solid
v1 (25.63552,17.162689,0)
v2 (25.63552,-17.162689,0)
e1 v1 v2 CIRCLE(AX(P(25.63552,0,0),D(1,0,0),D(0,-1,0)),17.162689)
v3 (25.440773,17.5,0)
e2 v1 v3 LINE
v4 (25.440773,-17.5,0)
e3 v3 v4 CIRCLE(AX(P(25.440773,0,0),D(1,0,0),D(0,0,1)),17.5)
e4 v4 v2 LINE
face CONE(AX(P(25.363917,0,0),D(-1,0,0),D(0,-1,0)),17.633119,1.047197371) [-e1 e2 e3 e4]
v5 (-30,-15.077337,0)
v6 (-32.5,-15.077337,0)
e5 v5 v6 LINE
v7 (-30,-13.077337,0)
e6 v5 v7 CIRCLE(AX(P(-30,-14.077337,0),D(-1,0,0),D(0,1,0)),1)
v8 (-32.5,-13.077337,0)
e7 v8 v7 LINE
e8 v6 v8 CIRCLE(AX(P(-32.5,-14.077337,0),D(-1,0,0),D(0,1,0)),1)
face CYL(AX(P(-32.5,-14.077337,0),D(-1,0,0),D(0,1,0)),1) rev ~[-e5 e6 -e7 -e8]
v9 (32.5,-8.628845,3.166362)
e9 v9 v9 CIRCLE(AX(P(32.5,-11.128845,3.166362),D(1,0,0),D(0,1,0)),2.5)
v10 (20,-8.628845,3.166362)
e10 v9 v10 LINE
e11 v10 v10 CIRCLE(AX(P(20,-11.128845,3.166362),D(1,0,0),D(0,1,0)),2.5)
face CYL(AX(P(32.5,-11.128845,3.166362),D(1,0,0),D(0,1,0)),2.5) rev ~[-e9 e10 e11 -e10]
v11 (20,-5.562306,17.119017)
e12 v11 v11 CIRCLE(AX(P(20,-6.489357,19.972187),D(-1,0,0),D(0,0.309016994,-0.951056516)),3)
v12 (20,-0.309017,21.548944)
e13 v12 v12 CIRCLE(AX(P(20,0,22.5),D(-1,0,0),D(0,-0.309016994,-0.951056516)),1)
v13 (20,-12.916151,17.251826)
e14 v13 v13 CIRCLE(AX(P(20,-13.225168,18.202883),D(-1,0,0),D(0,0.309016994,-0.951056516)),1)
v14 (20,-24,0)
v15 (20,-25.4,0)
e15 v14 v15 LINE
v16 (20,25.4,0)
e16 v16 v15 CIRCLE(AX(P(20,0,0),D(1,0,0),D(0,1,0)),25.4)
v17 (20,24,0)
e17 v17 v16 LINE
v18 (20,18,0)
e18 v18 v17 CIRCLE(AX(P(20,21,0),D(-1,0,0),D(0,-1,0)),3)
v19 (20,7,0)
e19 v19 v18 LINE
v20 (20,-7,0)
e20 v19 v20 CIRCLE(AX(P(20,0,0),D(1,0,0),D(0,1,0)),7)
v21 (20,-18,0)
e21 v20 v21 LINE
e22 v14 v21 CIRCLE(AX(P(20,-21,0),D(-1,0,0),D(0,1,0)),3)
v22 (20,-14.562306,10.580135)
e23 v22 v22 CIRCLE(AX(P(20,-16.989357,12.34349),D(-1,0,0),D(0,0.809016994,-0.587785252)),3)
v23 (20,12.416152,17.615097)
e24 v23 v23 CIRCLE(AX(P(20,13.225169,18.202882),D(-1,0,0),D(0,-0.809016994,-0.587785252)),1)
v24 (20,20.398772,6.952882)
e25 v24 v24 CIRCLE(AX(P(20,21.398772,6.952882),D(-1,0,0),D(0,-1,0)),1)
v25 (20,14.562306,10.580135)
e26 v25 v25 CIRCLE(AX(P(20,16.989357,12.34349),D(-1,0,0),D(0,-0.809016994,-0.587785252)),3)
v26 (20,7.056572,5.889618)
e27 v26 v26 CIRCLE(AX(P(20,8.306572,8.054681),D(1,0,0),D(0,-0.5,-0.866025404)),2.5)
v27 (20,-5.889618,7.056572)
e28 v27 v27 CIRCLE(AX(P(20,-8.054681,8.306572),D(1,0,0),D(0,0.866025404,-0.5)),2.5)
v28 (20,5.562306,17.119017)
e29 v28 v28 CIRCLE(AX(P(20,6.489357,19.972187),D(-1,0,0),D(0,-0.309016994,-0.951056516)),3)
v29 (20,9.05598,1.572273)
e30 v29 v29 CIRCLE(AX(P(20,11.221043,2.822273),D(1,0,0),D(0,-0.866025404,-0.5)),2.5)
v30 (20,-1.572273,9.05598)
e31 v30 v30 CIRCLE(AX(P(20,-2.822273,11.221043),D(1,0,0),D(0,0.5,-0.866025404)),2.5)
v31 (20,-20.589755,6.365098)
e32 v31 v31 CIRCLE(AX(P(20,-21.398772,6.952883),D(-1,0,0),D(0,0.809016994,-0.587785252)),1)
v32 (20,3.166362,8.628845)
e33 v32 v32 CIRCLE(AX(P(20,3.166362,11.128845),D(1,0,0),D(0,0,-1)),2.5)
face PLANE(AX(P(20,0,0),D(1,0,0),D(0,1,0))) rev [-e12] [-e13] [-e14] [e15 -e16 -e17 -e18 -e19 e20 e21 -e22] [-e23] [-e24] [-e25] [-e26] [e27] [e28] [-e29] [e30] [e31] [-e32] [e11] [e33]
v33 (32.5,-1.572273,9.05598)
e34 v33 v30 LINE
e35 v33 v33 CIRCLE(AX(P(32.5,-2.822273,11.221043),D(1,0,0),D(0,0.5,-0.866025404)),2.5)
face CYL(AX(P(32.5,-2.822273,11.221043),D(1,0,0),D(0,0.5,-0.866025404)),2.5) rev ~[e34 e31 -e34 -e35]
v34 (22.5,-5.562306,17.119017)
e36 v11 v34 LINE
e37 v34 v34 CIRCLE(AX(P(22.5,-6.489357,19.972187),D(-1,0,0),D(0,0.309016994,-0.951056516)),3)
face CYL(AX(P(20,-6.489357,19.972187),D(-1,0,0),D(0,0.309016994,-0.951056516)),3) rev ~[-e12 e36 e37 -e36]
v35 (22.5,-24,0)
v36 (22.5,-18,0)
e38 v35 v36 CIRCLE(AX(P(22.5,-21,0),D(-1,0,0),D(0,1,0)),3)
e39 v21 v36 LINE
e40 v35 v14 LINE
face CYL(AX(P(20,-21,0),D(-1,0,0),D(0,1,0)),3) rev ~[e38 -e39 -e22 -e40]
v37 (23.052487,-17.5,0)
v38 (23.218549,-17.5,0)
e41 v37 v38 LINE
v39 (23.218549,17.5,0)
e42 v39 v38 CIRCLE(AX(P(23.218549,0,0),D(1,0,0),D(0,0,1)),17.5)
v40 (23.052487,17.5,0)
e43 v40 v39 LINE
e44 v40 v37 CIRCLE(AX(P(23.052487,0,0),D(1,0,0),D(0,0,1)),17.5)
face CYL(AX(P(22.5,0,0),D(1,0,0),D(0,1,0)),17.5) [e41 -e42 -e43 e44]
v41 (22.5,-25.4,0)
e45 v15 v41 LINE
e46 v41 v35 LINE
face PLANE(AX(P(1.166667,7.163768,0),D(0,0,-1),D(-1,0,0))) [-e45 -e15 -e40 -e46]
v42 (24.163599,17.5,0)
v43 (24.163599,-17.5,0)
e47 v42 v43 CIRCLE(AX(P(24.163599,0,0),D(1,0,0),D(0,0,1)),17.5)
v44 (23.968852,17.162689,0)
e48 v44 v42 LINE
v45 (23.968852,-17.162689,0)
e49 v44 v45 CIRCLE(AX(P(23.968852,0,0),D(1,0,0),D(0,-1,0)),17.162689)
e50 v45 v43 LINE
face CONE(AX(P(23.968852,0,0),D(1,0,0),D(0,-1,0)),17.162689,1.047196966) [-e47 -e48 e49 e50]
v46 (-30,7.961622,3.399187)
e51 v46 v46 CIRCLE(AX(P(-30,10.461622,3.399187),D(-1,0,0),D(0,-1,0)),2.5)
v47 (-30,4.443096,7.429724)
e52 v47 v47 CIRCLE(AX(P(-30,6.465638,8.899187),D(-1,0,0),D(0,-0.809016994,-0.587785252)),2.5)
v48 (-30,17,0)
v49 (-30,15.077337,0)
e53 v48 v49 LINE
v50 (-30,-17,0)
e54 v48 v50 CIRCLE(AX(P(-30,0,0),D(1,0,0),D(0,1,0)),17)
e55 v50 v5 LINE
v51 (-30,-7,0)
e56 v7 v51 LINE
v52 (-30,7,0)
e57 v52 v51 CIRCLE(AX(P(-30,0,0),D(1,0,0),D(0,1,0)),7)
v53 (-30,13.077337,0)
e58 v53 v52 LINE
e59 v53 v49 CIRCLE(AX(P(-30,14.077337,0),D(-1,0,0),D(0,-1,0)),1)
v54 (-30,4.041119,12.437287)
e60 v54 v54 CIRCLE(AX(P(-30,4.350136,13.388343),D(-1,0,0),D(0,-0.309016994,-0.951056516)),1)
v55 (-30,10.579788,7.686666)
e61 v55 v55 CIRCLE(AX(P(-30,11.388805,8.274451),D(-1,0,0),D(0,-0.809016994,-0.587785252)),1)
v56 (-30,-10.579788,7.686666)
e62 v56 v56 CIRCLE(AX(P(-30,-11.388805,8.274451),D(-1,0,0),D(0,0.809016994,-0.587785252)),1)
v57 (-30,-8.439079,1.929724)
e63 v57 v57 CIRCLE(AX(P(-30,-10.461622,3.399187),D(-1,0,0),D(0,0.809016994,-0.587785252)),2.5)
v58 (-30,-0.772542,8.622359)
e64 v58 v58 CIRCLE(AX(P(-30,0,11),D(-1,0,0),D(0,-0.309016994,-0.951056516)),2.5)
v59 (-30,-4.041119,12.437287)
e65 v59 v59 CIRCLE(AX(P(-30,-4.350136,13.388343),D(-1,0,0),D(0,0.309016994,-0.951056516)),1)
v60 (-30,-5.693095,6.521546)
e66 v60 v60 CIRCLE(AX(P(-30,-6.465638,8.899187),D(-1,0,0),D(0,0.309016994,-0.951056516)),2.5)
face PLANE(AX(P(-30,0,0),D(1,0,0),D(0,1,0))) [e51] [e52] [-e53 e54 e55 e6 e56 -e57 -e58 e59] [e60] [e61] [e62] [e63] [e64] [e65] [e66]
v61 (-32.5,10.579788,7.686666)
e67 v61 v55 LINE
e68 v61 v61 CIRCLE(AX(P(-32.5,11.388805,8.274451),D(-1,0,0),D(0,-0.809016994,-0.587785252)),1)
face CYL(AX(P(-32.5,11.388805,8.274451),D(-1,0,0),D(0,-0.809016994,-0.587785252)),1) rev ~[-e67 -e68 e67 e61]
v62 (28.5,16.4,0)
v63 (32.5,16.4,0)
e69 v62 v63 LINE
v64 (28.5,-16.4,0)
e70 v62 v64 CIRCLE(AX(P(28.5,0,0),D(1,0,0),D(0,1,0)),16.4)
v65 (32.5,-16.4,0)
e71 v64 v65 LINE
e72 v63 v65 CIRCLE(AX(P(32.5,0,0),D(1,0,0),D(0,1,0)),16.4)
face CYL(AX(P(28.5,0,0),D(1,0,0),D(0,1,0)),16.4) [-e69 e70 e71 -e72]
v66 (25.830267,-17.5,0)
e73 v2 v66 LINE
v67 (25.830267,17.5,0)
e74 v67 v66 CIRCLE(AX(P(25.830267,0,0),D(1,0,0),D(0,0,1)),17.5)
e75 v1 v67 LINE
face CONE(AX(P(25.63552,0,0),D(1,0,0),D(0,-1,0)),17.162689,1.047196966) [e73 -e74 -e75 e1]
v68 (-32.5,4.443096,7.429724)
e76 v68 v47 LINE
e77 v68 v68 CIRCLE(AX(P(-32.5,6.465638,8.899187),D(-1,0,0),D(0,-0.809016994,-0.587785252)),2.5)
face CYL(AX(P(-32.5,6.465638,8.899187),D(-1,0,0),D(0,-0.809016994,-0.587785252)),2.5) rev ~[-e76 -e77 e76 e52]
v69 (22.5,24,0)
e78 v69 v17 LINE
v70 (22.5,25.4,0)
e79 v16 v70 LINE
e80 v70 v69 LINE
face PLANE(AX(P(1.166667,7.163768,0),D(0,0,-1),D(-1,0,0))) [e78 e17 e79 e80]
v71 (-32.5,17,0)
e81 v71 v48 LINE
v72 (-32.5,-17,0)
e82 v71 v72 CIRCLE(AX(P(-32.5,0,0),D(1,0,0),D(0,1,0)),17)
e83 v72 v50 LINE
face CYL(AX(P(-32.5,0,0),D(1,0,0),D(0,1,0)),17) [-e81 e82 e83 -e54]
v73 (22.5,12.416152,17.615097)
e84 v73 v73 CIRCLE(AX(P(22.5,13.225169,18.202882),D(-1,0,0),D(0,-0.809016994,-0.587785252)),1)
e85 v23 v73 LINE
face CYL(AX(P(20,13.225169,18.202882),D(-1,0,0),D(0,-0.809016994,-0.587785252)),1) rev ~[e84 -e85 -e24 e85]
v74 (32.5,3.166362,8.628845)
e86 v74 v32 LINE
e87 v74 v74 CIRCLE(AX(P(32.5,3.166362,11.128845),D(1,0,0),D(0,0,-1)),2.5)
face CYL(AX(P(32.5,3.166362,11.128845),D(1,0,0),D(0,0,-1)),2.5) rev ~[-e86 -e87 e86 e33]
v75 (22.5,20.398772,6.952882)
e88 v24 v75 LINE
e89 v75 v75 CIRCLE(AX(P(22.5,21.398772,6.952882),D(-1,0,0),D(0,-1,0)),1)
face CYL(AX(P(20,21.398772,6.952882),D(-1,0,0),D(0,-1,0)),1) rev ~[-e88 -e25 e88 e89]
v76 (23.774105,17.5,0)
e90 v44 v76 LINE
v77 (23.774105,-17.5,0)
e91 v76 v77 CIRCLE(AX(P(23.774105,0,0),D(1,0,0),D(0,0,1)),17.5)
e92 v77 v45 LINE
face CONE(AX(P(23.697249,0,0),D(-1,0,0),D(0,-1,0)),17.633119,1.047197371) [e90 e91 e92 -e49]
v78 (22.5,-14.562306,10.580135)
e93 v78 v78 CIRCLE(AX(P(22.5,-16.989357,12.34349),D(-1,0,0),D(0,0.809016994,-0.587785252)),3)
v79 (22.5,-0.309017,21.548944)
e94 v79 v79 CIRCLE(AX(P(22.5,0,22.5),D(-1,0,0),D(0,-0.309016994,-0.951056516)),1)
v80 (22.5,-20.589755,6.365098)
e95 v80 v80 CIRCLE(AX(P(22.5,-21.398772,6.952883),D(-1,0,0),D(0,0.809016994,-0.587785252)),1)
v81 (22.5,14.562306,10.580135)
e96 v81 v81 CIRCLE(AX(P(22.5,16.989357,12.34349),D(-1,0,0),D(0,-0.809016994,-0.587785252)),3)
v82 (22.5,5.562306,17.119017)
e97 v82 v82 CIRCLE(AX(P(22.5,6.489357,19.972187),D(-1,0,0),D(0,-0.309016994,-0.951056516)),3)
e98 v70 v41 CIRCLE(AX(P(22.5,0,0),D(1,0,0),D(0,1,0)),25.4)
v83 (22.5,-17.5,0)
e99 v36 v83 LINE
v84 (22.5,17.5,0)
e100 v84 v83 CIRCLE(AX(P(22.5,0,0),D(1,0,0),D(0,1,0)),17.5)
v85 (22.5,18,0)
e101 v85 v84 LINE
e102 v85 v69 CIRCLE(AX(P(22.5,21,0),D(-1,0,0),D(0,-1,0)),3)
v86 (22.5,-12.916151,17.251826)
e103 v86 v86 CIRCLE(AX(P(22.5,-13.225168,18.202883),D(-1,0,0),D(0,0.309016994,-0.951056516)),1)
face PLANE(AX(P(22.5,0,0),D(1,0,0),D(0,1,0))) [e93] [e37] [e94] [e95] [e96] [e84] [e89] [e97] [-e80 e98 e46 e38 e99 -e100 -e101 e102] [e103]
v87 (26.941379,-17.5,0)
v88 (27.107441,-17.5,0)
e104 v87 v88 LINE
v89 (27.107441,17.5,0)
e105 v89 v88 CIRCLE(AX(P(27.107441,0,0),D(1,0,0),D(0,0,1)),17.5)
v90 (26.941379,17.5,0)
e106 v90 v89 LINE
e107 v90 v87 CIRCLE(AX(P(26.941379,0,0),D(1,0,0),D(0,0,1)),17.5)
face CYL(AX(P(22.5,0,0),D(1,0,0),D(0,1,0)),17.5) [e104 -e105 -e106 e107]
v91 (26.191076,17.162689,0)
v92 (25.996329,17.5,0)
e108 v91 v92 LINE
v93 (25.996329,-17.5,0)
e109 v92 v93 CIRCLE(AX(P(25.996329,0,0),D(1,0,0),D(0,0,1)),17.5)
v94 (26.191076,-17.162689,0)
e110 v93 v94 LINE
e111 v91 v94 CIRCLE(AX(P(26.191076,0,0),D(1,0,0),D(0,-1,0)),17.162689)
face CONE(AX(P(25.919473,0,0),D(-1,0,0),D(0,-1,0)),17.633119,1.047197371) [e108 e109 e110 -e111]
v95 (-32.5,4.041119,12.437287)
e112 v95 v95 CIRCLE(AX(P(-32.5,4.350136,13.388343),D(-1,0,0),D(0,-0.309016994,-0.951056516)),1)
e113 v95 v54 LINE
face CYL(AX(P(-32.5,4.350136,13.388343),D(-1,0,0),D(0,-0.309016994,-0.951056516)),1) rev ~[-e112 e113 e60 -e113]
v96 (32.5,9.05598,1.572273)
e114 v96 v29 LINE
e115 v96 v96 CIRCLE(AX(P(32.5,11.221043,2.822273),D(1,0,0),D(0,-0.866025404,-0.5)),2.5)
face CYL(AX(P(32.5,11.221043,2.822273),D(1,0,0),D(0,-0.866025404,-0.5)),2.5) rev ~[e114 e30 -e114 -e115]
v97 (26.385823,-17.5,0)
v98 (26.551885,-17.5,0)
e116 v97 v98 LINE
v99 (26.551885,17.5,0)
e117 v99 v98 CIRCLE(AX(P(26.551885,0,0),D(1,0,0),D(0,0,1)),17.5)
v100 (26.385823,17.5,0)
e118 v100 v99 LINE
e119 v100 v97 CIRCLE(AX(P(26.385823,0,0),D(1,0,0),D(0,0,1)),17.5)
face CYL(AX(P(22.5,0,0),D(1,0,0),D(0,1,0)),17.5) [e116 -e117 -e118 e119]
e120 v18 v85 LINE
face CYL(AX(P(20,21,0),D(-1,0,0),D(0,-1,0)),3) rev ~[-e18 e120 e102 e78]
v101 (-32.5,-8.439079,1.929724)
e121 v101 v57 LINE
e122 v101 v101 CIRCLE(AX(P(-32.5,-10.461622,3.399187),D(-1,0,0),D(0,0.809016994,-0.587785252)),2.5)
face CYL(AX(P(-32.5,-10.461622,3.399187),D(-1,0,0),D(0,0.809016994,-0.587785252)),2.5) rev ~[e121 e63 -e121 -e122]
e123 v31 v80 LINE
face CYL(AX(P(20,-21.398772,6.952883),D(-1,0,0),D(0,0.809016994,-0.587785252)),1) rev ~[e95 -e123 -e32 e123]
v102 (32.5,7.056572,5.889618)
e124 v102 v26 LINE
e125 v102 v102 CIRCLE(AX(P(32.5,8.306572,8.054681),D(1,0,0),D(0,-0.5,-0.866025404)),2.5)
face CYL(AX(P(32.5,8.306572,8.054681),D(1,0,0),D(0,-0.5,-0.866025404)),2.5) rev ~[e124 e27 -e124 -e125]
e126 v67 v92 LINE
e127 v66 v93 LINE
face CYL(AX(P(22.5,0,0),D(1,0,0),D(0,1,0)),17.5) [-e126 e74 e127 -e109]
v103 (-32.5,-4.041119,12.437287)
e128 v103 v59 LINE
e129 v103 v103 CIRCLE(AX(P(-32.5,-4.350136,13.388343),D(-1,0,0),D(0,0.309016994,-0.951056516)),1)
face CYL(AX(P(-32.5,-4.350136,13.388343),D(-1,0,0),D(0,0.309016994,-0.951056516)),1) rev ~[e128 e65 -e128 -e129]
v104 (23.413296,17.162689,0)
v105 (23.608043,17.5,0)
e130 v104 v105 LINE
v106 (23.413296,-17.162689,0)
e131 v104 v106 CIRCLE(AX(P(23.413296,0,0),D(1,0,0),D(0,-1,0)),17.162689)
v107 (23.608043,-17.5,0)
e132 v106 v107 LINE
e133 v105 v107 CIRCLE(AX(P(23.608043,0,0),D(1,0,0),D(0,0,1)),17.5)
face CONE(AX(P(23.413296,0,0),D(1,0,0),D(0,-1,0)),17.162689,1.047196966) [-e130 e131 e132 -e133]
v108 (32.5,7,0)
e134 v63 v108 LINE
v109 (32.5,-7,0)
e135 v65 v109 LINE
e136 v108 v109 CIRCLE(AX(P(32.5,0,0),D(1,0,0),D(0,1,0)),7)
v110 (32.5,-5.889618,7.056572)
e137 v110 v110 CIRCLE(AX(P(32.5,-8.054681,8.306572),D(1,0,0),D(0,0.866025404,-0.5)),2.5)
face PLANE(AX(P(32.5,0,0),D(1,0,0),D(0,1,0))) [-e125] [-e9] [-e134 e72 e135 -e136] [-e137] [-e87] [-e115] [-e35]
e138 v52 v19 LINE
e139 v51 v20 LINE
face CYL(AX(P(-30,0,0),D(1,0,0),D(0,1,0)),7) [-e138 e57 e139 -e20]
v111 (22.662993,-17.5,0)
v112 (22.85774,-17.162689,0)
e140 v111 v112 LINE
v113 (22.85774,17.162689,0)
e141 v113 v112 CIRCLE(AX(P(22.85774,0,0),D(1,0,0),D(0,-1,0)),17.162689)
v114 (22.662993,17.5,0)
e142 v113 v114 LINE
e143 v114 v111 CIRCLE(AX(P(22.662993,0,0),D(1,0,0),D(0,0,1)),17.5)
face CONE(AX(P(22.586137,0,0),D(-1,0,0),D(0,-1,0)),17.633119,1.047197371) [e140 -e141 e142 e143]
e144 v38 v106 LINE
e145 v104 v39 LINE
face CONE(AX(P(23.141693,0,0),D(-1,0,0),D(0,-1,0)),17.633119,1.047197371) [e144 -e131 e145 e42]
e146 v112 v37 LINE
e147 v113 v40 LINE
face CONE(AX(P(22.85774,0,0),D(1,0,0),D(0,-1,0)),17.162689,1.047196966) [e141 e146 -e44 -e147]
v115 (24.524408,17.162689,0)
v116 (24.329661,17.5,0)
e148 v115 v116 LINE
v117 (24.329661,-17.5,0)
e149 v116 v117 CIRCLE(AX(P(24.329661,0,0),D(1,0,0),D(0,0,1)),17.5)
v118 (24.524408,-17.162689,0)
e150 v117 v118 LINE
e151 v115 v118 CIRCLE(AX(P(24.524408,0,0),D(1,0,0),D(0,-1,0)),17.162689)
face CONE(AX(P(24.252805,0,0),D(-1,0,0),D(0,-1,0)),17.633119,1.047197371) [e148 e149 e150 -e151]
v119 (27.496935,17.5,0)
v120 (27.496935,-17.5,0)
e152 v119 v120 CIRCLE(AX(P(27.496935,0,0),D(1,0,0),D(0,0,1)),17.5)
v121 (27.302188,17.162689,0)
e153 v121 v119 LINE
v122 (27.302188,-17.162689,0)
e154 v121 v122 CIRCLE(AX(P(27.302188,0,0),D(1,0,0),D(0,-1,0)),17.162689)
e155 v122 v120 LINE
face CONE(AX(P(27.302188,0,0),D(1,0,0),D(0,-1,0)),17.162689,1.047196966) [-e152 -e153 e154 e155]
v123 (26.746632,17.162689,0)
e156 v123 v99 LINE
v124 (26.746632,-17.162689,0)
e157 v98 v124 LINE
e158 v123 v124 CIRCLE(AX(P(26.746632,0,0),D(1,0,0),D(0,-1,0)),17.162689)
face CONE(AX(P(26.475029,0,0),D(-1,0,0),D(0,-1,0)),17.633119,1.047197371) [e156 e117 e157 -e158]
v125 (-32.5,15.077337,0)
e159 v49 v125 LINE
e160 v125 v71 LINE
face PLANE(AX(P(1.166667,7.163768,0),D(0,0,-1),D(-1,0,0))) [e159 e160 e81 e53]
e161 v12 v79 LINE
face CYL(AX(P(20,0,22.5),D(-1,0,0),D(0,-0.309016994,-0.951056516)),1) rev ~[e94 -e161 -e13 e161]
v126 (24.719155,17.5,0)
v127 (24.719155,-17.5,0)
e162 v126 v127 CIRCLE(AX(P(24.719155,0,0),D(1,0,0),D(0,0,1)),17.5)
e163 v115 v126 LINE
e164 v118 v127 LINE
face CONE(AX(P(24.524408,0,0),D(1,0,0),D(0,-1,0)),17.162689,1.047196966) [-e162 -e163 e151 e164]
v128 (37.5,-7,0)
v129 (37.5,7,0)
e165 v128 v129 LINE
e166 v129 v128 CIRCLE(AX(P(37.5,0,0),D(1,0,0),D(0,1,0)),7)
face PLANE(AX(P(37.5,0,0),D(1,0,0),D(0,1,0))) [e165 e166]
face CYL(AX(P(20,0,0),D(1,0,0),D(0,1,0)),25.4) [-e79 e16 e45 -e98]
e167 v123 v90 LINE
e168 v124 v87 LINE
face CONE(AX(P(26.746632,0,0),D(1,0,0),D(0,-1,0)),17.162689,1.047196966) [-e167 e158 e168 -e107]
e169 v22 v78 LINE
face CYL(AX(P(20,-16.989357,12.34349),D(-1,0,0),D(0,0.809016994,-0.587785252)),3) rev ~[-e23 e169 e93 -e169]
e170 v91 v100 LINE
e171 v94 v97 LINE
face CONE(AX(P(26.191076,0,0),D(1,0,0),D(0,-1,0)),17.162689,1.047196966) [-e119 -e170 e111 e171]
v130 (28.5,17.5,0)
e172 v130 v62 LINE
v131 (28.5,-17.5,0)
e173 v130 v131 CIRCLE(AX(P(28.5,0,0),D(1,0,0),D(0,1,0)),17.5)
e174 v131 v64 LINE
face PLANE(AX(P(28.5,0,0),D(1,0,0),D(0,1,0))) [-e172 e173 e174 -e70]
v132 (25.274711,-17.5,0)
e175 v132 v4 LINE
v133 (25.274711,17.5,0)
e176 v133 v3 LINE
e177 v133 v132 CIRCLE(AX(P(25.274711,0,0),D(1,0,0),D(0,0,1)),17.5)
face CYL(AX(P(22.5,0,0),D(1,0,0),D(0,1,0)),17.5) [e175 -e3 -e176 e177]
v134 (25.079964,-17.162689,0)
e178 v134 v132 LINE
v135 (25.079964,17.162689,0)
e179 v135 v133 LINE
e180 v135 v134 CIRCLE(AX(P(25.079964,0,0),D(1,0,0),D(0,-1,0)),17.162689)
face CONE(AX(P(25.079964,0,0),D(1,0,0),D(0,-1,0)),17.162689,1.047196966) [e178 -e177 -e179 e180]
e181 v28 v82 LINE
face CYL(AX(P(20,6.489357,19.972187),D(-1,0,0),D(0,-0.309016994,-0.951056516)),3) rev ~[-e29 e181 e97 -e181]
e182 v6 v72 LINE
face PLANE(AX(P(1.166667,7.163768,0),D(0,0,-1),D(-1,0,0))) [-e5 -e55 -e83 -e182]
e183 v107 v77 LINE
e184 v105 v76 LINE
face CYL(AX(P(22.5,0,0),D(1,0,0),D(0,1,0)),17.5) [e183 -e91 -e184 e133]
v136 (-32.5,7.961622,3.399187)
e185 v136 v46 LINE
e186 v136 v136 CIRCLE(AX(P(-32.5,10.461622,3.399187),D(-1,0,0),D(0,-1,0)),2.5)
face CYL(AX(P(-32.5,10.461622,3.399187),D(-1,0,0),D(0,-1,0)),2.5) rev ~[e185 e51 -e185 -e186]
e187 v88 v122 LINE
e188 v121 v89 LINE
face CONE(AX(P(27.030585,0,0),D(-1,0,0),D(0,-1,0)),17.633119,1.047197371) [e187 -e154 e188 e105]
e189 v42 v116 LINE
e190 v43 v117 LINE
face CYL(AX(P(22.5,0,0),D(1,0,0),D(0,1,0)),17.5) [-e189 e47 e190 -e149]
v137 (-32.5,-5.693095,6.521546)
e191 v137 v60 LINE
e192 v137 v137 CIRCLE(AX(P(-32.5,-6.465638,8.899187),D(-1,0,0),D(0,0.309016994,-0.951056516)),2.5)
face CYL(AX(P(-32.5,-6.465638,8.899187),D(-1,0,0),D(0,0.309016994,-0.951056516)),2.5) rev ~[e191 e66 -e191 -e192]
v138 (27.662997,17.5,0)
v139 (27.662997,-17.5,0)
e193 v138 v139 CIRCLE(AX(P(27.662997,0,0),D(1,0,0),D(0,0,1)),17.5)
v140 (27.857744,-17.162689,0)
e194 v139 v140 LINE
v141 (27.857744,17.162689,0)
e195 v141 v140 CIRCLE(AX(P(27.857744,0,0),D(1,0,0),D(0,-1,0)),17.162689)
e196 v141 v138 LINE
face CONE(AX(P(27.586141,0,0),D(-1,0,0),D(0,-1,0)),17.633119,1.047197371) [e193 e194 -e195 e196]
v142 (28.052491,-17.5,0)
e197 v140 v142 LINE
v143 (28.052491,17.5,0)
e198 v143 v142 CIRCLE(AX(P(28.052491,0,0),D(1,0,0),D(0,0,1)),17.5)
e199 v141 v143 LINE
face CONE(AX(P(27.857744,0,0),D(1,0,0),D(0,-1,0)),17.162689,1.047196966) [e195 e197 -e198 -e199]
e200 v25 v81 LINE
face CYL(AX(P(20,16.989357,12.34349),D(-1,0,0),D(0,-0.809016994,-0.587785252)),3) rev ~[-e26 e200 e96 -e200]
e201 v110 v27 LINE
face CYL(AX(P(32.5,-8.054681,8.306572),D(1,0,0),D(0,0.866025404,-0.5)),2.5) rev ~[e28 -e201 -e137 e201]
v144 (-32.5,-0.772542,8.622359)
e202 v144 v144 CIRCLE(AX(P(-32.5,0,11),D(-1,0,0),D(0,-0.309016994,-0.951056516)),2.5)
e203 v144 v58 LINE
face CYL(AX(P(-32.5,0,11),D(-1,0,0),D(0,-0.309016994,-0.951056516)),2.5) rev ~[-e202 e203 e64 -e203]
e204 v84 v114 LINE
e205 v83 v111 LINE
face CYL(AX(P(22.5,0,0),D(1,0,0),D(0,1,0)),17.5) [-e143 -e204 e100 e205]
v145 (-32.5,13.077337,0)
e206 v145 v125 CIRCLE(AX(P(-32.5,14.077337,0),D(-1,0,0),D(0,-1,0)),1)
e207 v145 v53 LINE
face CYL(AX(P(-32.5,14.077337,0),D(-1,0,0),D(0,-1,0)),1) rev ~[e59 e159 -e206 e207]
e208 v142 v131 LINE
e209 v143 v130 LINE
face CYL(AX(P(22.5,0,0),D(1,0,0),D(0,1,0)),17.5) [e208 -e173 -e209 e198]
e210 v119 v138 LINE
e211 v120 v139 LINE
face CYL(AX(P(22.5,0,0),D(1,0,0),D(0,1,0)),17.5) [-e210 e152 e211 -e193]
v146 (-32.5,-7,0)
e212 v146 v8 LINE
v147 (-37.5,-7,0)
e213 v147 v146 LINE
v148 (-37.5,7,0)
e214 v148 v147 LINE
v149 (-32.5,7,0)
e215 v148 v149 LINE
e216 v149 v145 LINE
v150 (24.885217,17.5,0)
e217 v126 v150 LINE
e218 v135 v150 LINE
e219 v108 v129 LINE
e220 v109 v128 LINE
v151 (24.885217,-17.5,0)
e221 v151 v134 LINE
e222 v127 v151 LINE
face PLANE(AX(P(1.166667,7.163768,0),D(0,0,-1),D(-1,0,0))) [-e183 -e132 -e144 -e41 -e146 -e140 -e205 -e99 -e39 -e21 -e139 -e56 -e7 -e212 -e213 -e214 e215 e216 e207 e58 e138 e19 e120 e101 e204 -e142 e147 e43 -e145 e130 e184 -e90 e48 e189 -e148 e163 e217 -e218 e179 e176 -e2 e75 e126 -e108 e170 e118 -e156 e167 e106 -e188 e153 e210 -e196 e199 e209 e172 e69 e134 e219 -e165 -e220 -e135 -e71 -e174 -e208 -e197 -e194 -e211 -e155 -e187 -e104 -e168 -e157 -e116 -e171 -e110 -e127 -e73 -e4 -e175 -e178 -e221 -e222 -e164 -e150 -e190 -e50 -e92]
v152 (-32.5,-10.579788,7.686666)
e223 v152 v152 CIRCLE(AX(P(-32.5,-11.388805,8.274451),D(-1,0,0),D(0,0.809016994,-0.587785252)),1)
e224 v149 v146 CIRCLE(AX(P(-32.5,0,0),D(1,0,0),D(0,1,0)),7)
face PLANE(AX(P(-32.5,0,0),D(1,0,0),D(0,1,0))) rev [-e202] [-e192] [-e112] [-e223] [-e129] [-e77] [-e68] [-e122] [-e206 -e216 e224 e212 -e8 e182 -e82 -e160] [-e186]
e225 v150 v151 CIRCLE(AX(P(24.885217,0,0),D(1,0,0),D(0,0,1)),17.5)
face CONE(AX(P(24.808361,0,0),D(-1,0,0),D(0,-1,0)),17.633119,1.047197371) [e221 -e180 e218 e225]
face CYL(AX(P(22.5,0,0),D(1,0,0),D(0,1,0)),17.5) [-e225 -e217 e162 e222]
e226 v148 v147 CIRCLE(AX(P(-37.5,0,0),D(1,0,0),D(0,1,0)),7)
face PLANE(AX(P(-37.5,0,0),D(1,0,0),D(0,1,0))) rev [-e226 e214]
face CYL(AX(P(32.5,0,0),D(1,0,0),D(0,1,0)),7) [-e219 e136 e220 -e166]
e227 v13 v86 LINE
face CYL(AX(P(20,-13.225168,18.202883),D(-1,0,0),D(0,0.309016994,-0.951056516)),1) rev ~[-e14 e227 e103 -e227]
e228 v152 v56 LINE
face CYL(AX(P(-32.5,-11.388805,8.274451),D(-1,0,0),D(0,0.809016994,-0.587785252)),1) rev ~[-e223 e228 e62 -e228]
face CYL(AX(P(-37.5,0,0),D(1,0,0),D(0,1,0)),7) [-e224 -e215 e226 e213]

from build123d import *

# Parameters (mm, degrees)
REVOLUTION_ANGLE      = 180
SKETCH001_R           = 2.5
POCKET_DEPTH          = 20
POLARPATTERN_COUNT    = 6
POLARPATTERN_ANGLE    = 150
SKETCH002_R           = 1
POCKET001_DEPTH       = 5
POLARPATTERN001_COUNT = 10
SKETCH003_R           = 1
POCKET002_DEPTH       = 5
POLARPATTERN002_COUNT = 10
SKETCH004_R           = 2.5
POCKET003_DEPTH       = 5
POLARPATTERN003_COUNT = 10
SKETCH005_R           = 3
POCKET004_DEPTH       = 5
POLARPATTERN004_COUNT = 10
LINEARPATTERN_COUNT   = 10
LINEARPATTERN_PITCH   = 0.555556


with BuildPart() as part:
    # Sketch → Revolution (revolve)
    with BuildSketch(Plane.XY):
        Polygon((-37.5, 0), (-37.5, 7), (-32.5, 7), (-32.5, 17), (-30, 17), (-30, 7), (20, 7), (20, 25.4), (22.5, 25.4), (22.5, 17.5), (28.5, 17.5), (28.5, 16.4), (32.5, 16.4), (32.5, 7), (37.5, 7), (37.5, 0), align=None)
    revolve(axis=Axis((0, 0, 0), (1, 0, 0)), revolution_arc=REVOLUTION_ANGLE)

    # Sketch001 → Pocket (cut)
    with BuildSketch(Plane.YZ.offset(32.5)):
        with Locations((-11.128845, 3.166362)):
            Circle(SKETCH001_R)
    pocket = extrude(amount=-POCKET_DEPTH, mode=Mode.SUBTRACT)

    # PolarPattern: Pocket ×6 about axis
    polarpattern_axis = Axis((32.5, 0, 0), (-1, 0, 0))
    for i in range(1, POLARPATTERN_COUNT):
        add(pocket.rotate(polarpattern_axis, i * POLARPATTERN_ANGLE / (POLARPATTERN_COUNT - 1)), mode=Mode.SUBTRACT)

    # Sketch002 → Pocket001 (cut)
    with BuildSketch(Plane(origin=(-32.5, 0, 0), x_dir=(0, -1, 0), z_dir=(-1, 0, 0))):
        with Locations((-14.077337, 0)):
            Circle(SKETCH002_R)
    pocket001 = extrude(amount=-POCKET001_DEPTH, mode=Mode.SUBTRACT)

    # PolarPattern001: Pocket001 ×10 about axis
    polarpattern001_axis = Axis((-32.5, 0, 0), (-1, 0, 0))
    for i in range(1, POLARPATTERN001_COUNT):
        add(pocket001.rotate(polarpattern001_axis, i * 360 / POLARPATTERN001_COUNT), mode=Mode.SUBTRACT)

    # Sketch003 → Pocket002 (cut)
    with BuildSketch(Plane(origin=(20, 0, 0), x_dir=(0, -1, 0), z_dir=(-1, 0, 0))):
        with Locations((-21.398772, 6.952882)):
            Circle(SKETCH003_R)
    pocket002 = extrude(amount=-POCKET002_DEPTH, mode=Mode.SUBTRACT)

    # PolarPattern002: Pocket002 ×10 about axis
    polarpattern002_axis = Axis((20, 0, 0), (-1, 0, 0))
    for i in range(1, POLARPATTERN002_COUNT):
        add(pocket002.rotate(polarpattern002_axis, i * 360 / POLARPATTERN002_COUNT), mode=Mode.SUBTRACT)

    # Sketch004 → Pocket003 (cut)
    with BuildSketch(Plane(origin=(-32.5, 0, 0), x_dir=(0, -1, 0), z_dir=(-1, 0, 0))):
        with Locations((-10.461622, 3.399187)):
            Circle(SKETCH004_R)
    pocket003 = extrude(amount=-POCKET003_DEPTH, mode=Mode.SUBTRACT)

    # PolarPattern003: Pocket003 ×10 about axis
    polarpattern003_axis = Axis((-32.5, 0, 0), (-1, 0, 0))
    for i in range(1, POLARPATTERN003_COUNT):
        add(pocket003.rotate(polarpattern003_axis, i * 360 / POLARPATTERN003_COUNT), mode=Mode.SUBTRACT)

    # Sketch005 → Pocket004 (cut)
    with BuildSketch(Plane(origin=(20, 0, 0), x_dir=(0, -1, 0), z_dir=(-1, 0, 0))):
        with Locations((-21, 0)):
            Circle(SKETCH005_R)
    pocket004 = extrude(amount=-POCKET004_DEPTH, mode=Mode.SUBTRACT)

    # PolarPattern004: Pocket004 ×10 about axis
    polarpattern004_axis = Axis((20, 0, 0), (-1, 0, 0))
    for i in range(1, POLARPATTERN004_COUNT):
        add(pocket004.rotate(polarpattern004_axis, i * 360 / POLARPATTERN004_COUNT), mode=Mode.SUBTRACT)

    # Sketch006 → Groove (revolve, cut)
    with BuildSketch(Plane(origin=(0, 0, 0), x_dir=(1, 0, 0), z_dir=(0, 0, -1))):
        Polygon((22.586137, 17.633119), (22.85774, 17.162689), (23.109543, 17.598824), (23.109543, 18.335896), (22.603432, 18.335896), align=None)
    groove = revolve(axis=Axis((0, 0, 0), (1, 0, 0)), mode=Mode.SUBTRACT)

    # LinearPattern: Groove ×10
    with Locations(*[(i * LINEARPATTERN_PITCH, 0, 0) for i in range(1, LINEARPATTERN_COUNT)]):
        add(groove, mode=Mode.SUBTRACT)


solid = part.part
